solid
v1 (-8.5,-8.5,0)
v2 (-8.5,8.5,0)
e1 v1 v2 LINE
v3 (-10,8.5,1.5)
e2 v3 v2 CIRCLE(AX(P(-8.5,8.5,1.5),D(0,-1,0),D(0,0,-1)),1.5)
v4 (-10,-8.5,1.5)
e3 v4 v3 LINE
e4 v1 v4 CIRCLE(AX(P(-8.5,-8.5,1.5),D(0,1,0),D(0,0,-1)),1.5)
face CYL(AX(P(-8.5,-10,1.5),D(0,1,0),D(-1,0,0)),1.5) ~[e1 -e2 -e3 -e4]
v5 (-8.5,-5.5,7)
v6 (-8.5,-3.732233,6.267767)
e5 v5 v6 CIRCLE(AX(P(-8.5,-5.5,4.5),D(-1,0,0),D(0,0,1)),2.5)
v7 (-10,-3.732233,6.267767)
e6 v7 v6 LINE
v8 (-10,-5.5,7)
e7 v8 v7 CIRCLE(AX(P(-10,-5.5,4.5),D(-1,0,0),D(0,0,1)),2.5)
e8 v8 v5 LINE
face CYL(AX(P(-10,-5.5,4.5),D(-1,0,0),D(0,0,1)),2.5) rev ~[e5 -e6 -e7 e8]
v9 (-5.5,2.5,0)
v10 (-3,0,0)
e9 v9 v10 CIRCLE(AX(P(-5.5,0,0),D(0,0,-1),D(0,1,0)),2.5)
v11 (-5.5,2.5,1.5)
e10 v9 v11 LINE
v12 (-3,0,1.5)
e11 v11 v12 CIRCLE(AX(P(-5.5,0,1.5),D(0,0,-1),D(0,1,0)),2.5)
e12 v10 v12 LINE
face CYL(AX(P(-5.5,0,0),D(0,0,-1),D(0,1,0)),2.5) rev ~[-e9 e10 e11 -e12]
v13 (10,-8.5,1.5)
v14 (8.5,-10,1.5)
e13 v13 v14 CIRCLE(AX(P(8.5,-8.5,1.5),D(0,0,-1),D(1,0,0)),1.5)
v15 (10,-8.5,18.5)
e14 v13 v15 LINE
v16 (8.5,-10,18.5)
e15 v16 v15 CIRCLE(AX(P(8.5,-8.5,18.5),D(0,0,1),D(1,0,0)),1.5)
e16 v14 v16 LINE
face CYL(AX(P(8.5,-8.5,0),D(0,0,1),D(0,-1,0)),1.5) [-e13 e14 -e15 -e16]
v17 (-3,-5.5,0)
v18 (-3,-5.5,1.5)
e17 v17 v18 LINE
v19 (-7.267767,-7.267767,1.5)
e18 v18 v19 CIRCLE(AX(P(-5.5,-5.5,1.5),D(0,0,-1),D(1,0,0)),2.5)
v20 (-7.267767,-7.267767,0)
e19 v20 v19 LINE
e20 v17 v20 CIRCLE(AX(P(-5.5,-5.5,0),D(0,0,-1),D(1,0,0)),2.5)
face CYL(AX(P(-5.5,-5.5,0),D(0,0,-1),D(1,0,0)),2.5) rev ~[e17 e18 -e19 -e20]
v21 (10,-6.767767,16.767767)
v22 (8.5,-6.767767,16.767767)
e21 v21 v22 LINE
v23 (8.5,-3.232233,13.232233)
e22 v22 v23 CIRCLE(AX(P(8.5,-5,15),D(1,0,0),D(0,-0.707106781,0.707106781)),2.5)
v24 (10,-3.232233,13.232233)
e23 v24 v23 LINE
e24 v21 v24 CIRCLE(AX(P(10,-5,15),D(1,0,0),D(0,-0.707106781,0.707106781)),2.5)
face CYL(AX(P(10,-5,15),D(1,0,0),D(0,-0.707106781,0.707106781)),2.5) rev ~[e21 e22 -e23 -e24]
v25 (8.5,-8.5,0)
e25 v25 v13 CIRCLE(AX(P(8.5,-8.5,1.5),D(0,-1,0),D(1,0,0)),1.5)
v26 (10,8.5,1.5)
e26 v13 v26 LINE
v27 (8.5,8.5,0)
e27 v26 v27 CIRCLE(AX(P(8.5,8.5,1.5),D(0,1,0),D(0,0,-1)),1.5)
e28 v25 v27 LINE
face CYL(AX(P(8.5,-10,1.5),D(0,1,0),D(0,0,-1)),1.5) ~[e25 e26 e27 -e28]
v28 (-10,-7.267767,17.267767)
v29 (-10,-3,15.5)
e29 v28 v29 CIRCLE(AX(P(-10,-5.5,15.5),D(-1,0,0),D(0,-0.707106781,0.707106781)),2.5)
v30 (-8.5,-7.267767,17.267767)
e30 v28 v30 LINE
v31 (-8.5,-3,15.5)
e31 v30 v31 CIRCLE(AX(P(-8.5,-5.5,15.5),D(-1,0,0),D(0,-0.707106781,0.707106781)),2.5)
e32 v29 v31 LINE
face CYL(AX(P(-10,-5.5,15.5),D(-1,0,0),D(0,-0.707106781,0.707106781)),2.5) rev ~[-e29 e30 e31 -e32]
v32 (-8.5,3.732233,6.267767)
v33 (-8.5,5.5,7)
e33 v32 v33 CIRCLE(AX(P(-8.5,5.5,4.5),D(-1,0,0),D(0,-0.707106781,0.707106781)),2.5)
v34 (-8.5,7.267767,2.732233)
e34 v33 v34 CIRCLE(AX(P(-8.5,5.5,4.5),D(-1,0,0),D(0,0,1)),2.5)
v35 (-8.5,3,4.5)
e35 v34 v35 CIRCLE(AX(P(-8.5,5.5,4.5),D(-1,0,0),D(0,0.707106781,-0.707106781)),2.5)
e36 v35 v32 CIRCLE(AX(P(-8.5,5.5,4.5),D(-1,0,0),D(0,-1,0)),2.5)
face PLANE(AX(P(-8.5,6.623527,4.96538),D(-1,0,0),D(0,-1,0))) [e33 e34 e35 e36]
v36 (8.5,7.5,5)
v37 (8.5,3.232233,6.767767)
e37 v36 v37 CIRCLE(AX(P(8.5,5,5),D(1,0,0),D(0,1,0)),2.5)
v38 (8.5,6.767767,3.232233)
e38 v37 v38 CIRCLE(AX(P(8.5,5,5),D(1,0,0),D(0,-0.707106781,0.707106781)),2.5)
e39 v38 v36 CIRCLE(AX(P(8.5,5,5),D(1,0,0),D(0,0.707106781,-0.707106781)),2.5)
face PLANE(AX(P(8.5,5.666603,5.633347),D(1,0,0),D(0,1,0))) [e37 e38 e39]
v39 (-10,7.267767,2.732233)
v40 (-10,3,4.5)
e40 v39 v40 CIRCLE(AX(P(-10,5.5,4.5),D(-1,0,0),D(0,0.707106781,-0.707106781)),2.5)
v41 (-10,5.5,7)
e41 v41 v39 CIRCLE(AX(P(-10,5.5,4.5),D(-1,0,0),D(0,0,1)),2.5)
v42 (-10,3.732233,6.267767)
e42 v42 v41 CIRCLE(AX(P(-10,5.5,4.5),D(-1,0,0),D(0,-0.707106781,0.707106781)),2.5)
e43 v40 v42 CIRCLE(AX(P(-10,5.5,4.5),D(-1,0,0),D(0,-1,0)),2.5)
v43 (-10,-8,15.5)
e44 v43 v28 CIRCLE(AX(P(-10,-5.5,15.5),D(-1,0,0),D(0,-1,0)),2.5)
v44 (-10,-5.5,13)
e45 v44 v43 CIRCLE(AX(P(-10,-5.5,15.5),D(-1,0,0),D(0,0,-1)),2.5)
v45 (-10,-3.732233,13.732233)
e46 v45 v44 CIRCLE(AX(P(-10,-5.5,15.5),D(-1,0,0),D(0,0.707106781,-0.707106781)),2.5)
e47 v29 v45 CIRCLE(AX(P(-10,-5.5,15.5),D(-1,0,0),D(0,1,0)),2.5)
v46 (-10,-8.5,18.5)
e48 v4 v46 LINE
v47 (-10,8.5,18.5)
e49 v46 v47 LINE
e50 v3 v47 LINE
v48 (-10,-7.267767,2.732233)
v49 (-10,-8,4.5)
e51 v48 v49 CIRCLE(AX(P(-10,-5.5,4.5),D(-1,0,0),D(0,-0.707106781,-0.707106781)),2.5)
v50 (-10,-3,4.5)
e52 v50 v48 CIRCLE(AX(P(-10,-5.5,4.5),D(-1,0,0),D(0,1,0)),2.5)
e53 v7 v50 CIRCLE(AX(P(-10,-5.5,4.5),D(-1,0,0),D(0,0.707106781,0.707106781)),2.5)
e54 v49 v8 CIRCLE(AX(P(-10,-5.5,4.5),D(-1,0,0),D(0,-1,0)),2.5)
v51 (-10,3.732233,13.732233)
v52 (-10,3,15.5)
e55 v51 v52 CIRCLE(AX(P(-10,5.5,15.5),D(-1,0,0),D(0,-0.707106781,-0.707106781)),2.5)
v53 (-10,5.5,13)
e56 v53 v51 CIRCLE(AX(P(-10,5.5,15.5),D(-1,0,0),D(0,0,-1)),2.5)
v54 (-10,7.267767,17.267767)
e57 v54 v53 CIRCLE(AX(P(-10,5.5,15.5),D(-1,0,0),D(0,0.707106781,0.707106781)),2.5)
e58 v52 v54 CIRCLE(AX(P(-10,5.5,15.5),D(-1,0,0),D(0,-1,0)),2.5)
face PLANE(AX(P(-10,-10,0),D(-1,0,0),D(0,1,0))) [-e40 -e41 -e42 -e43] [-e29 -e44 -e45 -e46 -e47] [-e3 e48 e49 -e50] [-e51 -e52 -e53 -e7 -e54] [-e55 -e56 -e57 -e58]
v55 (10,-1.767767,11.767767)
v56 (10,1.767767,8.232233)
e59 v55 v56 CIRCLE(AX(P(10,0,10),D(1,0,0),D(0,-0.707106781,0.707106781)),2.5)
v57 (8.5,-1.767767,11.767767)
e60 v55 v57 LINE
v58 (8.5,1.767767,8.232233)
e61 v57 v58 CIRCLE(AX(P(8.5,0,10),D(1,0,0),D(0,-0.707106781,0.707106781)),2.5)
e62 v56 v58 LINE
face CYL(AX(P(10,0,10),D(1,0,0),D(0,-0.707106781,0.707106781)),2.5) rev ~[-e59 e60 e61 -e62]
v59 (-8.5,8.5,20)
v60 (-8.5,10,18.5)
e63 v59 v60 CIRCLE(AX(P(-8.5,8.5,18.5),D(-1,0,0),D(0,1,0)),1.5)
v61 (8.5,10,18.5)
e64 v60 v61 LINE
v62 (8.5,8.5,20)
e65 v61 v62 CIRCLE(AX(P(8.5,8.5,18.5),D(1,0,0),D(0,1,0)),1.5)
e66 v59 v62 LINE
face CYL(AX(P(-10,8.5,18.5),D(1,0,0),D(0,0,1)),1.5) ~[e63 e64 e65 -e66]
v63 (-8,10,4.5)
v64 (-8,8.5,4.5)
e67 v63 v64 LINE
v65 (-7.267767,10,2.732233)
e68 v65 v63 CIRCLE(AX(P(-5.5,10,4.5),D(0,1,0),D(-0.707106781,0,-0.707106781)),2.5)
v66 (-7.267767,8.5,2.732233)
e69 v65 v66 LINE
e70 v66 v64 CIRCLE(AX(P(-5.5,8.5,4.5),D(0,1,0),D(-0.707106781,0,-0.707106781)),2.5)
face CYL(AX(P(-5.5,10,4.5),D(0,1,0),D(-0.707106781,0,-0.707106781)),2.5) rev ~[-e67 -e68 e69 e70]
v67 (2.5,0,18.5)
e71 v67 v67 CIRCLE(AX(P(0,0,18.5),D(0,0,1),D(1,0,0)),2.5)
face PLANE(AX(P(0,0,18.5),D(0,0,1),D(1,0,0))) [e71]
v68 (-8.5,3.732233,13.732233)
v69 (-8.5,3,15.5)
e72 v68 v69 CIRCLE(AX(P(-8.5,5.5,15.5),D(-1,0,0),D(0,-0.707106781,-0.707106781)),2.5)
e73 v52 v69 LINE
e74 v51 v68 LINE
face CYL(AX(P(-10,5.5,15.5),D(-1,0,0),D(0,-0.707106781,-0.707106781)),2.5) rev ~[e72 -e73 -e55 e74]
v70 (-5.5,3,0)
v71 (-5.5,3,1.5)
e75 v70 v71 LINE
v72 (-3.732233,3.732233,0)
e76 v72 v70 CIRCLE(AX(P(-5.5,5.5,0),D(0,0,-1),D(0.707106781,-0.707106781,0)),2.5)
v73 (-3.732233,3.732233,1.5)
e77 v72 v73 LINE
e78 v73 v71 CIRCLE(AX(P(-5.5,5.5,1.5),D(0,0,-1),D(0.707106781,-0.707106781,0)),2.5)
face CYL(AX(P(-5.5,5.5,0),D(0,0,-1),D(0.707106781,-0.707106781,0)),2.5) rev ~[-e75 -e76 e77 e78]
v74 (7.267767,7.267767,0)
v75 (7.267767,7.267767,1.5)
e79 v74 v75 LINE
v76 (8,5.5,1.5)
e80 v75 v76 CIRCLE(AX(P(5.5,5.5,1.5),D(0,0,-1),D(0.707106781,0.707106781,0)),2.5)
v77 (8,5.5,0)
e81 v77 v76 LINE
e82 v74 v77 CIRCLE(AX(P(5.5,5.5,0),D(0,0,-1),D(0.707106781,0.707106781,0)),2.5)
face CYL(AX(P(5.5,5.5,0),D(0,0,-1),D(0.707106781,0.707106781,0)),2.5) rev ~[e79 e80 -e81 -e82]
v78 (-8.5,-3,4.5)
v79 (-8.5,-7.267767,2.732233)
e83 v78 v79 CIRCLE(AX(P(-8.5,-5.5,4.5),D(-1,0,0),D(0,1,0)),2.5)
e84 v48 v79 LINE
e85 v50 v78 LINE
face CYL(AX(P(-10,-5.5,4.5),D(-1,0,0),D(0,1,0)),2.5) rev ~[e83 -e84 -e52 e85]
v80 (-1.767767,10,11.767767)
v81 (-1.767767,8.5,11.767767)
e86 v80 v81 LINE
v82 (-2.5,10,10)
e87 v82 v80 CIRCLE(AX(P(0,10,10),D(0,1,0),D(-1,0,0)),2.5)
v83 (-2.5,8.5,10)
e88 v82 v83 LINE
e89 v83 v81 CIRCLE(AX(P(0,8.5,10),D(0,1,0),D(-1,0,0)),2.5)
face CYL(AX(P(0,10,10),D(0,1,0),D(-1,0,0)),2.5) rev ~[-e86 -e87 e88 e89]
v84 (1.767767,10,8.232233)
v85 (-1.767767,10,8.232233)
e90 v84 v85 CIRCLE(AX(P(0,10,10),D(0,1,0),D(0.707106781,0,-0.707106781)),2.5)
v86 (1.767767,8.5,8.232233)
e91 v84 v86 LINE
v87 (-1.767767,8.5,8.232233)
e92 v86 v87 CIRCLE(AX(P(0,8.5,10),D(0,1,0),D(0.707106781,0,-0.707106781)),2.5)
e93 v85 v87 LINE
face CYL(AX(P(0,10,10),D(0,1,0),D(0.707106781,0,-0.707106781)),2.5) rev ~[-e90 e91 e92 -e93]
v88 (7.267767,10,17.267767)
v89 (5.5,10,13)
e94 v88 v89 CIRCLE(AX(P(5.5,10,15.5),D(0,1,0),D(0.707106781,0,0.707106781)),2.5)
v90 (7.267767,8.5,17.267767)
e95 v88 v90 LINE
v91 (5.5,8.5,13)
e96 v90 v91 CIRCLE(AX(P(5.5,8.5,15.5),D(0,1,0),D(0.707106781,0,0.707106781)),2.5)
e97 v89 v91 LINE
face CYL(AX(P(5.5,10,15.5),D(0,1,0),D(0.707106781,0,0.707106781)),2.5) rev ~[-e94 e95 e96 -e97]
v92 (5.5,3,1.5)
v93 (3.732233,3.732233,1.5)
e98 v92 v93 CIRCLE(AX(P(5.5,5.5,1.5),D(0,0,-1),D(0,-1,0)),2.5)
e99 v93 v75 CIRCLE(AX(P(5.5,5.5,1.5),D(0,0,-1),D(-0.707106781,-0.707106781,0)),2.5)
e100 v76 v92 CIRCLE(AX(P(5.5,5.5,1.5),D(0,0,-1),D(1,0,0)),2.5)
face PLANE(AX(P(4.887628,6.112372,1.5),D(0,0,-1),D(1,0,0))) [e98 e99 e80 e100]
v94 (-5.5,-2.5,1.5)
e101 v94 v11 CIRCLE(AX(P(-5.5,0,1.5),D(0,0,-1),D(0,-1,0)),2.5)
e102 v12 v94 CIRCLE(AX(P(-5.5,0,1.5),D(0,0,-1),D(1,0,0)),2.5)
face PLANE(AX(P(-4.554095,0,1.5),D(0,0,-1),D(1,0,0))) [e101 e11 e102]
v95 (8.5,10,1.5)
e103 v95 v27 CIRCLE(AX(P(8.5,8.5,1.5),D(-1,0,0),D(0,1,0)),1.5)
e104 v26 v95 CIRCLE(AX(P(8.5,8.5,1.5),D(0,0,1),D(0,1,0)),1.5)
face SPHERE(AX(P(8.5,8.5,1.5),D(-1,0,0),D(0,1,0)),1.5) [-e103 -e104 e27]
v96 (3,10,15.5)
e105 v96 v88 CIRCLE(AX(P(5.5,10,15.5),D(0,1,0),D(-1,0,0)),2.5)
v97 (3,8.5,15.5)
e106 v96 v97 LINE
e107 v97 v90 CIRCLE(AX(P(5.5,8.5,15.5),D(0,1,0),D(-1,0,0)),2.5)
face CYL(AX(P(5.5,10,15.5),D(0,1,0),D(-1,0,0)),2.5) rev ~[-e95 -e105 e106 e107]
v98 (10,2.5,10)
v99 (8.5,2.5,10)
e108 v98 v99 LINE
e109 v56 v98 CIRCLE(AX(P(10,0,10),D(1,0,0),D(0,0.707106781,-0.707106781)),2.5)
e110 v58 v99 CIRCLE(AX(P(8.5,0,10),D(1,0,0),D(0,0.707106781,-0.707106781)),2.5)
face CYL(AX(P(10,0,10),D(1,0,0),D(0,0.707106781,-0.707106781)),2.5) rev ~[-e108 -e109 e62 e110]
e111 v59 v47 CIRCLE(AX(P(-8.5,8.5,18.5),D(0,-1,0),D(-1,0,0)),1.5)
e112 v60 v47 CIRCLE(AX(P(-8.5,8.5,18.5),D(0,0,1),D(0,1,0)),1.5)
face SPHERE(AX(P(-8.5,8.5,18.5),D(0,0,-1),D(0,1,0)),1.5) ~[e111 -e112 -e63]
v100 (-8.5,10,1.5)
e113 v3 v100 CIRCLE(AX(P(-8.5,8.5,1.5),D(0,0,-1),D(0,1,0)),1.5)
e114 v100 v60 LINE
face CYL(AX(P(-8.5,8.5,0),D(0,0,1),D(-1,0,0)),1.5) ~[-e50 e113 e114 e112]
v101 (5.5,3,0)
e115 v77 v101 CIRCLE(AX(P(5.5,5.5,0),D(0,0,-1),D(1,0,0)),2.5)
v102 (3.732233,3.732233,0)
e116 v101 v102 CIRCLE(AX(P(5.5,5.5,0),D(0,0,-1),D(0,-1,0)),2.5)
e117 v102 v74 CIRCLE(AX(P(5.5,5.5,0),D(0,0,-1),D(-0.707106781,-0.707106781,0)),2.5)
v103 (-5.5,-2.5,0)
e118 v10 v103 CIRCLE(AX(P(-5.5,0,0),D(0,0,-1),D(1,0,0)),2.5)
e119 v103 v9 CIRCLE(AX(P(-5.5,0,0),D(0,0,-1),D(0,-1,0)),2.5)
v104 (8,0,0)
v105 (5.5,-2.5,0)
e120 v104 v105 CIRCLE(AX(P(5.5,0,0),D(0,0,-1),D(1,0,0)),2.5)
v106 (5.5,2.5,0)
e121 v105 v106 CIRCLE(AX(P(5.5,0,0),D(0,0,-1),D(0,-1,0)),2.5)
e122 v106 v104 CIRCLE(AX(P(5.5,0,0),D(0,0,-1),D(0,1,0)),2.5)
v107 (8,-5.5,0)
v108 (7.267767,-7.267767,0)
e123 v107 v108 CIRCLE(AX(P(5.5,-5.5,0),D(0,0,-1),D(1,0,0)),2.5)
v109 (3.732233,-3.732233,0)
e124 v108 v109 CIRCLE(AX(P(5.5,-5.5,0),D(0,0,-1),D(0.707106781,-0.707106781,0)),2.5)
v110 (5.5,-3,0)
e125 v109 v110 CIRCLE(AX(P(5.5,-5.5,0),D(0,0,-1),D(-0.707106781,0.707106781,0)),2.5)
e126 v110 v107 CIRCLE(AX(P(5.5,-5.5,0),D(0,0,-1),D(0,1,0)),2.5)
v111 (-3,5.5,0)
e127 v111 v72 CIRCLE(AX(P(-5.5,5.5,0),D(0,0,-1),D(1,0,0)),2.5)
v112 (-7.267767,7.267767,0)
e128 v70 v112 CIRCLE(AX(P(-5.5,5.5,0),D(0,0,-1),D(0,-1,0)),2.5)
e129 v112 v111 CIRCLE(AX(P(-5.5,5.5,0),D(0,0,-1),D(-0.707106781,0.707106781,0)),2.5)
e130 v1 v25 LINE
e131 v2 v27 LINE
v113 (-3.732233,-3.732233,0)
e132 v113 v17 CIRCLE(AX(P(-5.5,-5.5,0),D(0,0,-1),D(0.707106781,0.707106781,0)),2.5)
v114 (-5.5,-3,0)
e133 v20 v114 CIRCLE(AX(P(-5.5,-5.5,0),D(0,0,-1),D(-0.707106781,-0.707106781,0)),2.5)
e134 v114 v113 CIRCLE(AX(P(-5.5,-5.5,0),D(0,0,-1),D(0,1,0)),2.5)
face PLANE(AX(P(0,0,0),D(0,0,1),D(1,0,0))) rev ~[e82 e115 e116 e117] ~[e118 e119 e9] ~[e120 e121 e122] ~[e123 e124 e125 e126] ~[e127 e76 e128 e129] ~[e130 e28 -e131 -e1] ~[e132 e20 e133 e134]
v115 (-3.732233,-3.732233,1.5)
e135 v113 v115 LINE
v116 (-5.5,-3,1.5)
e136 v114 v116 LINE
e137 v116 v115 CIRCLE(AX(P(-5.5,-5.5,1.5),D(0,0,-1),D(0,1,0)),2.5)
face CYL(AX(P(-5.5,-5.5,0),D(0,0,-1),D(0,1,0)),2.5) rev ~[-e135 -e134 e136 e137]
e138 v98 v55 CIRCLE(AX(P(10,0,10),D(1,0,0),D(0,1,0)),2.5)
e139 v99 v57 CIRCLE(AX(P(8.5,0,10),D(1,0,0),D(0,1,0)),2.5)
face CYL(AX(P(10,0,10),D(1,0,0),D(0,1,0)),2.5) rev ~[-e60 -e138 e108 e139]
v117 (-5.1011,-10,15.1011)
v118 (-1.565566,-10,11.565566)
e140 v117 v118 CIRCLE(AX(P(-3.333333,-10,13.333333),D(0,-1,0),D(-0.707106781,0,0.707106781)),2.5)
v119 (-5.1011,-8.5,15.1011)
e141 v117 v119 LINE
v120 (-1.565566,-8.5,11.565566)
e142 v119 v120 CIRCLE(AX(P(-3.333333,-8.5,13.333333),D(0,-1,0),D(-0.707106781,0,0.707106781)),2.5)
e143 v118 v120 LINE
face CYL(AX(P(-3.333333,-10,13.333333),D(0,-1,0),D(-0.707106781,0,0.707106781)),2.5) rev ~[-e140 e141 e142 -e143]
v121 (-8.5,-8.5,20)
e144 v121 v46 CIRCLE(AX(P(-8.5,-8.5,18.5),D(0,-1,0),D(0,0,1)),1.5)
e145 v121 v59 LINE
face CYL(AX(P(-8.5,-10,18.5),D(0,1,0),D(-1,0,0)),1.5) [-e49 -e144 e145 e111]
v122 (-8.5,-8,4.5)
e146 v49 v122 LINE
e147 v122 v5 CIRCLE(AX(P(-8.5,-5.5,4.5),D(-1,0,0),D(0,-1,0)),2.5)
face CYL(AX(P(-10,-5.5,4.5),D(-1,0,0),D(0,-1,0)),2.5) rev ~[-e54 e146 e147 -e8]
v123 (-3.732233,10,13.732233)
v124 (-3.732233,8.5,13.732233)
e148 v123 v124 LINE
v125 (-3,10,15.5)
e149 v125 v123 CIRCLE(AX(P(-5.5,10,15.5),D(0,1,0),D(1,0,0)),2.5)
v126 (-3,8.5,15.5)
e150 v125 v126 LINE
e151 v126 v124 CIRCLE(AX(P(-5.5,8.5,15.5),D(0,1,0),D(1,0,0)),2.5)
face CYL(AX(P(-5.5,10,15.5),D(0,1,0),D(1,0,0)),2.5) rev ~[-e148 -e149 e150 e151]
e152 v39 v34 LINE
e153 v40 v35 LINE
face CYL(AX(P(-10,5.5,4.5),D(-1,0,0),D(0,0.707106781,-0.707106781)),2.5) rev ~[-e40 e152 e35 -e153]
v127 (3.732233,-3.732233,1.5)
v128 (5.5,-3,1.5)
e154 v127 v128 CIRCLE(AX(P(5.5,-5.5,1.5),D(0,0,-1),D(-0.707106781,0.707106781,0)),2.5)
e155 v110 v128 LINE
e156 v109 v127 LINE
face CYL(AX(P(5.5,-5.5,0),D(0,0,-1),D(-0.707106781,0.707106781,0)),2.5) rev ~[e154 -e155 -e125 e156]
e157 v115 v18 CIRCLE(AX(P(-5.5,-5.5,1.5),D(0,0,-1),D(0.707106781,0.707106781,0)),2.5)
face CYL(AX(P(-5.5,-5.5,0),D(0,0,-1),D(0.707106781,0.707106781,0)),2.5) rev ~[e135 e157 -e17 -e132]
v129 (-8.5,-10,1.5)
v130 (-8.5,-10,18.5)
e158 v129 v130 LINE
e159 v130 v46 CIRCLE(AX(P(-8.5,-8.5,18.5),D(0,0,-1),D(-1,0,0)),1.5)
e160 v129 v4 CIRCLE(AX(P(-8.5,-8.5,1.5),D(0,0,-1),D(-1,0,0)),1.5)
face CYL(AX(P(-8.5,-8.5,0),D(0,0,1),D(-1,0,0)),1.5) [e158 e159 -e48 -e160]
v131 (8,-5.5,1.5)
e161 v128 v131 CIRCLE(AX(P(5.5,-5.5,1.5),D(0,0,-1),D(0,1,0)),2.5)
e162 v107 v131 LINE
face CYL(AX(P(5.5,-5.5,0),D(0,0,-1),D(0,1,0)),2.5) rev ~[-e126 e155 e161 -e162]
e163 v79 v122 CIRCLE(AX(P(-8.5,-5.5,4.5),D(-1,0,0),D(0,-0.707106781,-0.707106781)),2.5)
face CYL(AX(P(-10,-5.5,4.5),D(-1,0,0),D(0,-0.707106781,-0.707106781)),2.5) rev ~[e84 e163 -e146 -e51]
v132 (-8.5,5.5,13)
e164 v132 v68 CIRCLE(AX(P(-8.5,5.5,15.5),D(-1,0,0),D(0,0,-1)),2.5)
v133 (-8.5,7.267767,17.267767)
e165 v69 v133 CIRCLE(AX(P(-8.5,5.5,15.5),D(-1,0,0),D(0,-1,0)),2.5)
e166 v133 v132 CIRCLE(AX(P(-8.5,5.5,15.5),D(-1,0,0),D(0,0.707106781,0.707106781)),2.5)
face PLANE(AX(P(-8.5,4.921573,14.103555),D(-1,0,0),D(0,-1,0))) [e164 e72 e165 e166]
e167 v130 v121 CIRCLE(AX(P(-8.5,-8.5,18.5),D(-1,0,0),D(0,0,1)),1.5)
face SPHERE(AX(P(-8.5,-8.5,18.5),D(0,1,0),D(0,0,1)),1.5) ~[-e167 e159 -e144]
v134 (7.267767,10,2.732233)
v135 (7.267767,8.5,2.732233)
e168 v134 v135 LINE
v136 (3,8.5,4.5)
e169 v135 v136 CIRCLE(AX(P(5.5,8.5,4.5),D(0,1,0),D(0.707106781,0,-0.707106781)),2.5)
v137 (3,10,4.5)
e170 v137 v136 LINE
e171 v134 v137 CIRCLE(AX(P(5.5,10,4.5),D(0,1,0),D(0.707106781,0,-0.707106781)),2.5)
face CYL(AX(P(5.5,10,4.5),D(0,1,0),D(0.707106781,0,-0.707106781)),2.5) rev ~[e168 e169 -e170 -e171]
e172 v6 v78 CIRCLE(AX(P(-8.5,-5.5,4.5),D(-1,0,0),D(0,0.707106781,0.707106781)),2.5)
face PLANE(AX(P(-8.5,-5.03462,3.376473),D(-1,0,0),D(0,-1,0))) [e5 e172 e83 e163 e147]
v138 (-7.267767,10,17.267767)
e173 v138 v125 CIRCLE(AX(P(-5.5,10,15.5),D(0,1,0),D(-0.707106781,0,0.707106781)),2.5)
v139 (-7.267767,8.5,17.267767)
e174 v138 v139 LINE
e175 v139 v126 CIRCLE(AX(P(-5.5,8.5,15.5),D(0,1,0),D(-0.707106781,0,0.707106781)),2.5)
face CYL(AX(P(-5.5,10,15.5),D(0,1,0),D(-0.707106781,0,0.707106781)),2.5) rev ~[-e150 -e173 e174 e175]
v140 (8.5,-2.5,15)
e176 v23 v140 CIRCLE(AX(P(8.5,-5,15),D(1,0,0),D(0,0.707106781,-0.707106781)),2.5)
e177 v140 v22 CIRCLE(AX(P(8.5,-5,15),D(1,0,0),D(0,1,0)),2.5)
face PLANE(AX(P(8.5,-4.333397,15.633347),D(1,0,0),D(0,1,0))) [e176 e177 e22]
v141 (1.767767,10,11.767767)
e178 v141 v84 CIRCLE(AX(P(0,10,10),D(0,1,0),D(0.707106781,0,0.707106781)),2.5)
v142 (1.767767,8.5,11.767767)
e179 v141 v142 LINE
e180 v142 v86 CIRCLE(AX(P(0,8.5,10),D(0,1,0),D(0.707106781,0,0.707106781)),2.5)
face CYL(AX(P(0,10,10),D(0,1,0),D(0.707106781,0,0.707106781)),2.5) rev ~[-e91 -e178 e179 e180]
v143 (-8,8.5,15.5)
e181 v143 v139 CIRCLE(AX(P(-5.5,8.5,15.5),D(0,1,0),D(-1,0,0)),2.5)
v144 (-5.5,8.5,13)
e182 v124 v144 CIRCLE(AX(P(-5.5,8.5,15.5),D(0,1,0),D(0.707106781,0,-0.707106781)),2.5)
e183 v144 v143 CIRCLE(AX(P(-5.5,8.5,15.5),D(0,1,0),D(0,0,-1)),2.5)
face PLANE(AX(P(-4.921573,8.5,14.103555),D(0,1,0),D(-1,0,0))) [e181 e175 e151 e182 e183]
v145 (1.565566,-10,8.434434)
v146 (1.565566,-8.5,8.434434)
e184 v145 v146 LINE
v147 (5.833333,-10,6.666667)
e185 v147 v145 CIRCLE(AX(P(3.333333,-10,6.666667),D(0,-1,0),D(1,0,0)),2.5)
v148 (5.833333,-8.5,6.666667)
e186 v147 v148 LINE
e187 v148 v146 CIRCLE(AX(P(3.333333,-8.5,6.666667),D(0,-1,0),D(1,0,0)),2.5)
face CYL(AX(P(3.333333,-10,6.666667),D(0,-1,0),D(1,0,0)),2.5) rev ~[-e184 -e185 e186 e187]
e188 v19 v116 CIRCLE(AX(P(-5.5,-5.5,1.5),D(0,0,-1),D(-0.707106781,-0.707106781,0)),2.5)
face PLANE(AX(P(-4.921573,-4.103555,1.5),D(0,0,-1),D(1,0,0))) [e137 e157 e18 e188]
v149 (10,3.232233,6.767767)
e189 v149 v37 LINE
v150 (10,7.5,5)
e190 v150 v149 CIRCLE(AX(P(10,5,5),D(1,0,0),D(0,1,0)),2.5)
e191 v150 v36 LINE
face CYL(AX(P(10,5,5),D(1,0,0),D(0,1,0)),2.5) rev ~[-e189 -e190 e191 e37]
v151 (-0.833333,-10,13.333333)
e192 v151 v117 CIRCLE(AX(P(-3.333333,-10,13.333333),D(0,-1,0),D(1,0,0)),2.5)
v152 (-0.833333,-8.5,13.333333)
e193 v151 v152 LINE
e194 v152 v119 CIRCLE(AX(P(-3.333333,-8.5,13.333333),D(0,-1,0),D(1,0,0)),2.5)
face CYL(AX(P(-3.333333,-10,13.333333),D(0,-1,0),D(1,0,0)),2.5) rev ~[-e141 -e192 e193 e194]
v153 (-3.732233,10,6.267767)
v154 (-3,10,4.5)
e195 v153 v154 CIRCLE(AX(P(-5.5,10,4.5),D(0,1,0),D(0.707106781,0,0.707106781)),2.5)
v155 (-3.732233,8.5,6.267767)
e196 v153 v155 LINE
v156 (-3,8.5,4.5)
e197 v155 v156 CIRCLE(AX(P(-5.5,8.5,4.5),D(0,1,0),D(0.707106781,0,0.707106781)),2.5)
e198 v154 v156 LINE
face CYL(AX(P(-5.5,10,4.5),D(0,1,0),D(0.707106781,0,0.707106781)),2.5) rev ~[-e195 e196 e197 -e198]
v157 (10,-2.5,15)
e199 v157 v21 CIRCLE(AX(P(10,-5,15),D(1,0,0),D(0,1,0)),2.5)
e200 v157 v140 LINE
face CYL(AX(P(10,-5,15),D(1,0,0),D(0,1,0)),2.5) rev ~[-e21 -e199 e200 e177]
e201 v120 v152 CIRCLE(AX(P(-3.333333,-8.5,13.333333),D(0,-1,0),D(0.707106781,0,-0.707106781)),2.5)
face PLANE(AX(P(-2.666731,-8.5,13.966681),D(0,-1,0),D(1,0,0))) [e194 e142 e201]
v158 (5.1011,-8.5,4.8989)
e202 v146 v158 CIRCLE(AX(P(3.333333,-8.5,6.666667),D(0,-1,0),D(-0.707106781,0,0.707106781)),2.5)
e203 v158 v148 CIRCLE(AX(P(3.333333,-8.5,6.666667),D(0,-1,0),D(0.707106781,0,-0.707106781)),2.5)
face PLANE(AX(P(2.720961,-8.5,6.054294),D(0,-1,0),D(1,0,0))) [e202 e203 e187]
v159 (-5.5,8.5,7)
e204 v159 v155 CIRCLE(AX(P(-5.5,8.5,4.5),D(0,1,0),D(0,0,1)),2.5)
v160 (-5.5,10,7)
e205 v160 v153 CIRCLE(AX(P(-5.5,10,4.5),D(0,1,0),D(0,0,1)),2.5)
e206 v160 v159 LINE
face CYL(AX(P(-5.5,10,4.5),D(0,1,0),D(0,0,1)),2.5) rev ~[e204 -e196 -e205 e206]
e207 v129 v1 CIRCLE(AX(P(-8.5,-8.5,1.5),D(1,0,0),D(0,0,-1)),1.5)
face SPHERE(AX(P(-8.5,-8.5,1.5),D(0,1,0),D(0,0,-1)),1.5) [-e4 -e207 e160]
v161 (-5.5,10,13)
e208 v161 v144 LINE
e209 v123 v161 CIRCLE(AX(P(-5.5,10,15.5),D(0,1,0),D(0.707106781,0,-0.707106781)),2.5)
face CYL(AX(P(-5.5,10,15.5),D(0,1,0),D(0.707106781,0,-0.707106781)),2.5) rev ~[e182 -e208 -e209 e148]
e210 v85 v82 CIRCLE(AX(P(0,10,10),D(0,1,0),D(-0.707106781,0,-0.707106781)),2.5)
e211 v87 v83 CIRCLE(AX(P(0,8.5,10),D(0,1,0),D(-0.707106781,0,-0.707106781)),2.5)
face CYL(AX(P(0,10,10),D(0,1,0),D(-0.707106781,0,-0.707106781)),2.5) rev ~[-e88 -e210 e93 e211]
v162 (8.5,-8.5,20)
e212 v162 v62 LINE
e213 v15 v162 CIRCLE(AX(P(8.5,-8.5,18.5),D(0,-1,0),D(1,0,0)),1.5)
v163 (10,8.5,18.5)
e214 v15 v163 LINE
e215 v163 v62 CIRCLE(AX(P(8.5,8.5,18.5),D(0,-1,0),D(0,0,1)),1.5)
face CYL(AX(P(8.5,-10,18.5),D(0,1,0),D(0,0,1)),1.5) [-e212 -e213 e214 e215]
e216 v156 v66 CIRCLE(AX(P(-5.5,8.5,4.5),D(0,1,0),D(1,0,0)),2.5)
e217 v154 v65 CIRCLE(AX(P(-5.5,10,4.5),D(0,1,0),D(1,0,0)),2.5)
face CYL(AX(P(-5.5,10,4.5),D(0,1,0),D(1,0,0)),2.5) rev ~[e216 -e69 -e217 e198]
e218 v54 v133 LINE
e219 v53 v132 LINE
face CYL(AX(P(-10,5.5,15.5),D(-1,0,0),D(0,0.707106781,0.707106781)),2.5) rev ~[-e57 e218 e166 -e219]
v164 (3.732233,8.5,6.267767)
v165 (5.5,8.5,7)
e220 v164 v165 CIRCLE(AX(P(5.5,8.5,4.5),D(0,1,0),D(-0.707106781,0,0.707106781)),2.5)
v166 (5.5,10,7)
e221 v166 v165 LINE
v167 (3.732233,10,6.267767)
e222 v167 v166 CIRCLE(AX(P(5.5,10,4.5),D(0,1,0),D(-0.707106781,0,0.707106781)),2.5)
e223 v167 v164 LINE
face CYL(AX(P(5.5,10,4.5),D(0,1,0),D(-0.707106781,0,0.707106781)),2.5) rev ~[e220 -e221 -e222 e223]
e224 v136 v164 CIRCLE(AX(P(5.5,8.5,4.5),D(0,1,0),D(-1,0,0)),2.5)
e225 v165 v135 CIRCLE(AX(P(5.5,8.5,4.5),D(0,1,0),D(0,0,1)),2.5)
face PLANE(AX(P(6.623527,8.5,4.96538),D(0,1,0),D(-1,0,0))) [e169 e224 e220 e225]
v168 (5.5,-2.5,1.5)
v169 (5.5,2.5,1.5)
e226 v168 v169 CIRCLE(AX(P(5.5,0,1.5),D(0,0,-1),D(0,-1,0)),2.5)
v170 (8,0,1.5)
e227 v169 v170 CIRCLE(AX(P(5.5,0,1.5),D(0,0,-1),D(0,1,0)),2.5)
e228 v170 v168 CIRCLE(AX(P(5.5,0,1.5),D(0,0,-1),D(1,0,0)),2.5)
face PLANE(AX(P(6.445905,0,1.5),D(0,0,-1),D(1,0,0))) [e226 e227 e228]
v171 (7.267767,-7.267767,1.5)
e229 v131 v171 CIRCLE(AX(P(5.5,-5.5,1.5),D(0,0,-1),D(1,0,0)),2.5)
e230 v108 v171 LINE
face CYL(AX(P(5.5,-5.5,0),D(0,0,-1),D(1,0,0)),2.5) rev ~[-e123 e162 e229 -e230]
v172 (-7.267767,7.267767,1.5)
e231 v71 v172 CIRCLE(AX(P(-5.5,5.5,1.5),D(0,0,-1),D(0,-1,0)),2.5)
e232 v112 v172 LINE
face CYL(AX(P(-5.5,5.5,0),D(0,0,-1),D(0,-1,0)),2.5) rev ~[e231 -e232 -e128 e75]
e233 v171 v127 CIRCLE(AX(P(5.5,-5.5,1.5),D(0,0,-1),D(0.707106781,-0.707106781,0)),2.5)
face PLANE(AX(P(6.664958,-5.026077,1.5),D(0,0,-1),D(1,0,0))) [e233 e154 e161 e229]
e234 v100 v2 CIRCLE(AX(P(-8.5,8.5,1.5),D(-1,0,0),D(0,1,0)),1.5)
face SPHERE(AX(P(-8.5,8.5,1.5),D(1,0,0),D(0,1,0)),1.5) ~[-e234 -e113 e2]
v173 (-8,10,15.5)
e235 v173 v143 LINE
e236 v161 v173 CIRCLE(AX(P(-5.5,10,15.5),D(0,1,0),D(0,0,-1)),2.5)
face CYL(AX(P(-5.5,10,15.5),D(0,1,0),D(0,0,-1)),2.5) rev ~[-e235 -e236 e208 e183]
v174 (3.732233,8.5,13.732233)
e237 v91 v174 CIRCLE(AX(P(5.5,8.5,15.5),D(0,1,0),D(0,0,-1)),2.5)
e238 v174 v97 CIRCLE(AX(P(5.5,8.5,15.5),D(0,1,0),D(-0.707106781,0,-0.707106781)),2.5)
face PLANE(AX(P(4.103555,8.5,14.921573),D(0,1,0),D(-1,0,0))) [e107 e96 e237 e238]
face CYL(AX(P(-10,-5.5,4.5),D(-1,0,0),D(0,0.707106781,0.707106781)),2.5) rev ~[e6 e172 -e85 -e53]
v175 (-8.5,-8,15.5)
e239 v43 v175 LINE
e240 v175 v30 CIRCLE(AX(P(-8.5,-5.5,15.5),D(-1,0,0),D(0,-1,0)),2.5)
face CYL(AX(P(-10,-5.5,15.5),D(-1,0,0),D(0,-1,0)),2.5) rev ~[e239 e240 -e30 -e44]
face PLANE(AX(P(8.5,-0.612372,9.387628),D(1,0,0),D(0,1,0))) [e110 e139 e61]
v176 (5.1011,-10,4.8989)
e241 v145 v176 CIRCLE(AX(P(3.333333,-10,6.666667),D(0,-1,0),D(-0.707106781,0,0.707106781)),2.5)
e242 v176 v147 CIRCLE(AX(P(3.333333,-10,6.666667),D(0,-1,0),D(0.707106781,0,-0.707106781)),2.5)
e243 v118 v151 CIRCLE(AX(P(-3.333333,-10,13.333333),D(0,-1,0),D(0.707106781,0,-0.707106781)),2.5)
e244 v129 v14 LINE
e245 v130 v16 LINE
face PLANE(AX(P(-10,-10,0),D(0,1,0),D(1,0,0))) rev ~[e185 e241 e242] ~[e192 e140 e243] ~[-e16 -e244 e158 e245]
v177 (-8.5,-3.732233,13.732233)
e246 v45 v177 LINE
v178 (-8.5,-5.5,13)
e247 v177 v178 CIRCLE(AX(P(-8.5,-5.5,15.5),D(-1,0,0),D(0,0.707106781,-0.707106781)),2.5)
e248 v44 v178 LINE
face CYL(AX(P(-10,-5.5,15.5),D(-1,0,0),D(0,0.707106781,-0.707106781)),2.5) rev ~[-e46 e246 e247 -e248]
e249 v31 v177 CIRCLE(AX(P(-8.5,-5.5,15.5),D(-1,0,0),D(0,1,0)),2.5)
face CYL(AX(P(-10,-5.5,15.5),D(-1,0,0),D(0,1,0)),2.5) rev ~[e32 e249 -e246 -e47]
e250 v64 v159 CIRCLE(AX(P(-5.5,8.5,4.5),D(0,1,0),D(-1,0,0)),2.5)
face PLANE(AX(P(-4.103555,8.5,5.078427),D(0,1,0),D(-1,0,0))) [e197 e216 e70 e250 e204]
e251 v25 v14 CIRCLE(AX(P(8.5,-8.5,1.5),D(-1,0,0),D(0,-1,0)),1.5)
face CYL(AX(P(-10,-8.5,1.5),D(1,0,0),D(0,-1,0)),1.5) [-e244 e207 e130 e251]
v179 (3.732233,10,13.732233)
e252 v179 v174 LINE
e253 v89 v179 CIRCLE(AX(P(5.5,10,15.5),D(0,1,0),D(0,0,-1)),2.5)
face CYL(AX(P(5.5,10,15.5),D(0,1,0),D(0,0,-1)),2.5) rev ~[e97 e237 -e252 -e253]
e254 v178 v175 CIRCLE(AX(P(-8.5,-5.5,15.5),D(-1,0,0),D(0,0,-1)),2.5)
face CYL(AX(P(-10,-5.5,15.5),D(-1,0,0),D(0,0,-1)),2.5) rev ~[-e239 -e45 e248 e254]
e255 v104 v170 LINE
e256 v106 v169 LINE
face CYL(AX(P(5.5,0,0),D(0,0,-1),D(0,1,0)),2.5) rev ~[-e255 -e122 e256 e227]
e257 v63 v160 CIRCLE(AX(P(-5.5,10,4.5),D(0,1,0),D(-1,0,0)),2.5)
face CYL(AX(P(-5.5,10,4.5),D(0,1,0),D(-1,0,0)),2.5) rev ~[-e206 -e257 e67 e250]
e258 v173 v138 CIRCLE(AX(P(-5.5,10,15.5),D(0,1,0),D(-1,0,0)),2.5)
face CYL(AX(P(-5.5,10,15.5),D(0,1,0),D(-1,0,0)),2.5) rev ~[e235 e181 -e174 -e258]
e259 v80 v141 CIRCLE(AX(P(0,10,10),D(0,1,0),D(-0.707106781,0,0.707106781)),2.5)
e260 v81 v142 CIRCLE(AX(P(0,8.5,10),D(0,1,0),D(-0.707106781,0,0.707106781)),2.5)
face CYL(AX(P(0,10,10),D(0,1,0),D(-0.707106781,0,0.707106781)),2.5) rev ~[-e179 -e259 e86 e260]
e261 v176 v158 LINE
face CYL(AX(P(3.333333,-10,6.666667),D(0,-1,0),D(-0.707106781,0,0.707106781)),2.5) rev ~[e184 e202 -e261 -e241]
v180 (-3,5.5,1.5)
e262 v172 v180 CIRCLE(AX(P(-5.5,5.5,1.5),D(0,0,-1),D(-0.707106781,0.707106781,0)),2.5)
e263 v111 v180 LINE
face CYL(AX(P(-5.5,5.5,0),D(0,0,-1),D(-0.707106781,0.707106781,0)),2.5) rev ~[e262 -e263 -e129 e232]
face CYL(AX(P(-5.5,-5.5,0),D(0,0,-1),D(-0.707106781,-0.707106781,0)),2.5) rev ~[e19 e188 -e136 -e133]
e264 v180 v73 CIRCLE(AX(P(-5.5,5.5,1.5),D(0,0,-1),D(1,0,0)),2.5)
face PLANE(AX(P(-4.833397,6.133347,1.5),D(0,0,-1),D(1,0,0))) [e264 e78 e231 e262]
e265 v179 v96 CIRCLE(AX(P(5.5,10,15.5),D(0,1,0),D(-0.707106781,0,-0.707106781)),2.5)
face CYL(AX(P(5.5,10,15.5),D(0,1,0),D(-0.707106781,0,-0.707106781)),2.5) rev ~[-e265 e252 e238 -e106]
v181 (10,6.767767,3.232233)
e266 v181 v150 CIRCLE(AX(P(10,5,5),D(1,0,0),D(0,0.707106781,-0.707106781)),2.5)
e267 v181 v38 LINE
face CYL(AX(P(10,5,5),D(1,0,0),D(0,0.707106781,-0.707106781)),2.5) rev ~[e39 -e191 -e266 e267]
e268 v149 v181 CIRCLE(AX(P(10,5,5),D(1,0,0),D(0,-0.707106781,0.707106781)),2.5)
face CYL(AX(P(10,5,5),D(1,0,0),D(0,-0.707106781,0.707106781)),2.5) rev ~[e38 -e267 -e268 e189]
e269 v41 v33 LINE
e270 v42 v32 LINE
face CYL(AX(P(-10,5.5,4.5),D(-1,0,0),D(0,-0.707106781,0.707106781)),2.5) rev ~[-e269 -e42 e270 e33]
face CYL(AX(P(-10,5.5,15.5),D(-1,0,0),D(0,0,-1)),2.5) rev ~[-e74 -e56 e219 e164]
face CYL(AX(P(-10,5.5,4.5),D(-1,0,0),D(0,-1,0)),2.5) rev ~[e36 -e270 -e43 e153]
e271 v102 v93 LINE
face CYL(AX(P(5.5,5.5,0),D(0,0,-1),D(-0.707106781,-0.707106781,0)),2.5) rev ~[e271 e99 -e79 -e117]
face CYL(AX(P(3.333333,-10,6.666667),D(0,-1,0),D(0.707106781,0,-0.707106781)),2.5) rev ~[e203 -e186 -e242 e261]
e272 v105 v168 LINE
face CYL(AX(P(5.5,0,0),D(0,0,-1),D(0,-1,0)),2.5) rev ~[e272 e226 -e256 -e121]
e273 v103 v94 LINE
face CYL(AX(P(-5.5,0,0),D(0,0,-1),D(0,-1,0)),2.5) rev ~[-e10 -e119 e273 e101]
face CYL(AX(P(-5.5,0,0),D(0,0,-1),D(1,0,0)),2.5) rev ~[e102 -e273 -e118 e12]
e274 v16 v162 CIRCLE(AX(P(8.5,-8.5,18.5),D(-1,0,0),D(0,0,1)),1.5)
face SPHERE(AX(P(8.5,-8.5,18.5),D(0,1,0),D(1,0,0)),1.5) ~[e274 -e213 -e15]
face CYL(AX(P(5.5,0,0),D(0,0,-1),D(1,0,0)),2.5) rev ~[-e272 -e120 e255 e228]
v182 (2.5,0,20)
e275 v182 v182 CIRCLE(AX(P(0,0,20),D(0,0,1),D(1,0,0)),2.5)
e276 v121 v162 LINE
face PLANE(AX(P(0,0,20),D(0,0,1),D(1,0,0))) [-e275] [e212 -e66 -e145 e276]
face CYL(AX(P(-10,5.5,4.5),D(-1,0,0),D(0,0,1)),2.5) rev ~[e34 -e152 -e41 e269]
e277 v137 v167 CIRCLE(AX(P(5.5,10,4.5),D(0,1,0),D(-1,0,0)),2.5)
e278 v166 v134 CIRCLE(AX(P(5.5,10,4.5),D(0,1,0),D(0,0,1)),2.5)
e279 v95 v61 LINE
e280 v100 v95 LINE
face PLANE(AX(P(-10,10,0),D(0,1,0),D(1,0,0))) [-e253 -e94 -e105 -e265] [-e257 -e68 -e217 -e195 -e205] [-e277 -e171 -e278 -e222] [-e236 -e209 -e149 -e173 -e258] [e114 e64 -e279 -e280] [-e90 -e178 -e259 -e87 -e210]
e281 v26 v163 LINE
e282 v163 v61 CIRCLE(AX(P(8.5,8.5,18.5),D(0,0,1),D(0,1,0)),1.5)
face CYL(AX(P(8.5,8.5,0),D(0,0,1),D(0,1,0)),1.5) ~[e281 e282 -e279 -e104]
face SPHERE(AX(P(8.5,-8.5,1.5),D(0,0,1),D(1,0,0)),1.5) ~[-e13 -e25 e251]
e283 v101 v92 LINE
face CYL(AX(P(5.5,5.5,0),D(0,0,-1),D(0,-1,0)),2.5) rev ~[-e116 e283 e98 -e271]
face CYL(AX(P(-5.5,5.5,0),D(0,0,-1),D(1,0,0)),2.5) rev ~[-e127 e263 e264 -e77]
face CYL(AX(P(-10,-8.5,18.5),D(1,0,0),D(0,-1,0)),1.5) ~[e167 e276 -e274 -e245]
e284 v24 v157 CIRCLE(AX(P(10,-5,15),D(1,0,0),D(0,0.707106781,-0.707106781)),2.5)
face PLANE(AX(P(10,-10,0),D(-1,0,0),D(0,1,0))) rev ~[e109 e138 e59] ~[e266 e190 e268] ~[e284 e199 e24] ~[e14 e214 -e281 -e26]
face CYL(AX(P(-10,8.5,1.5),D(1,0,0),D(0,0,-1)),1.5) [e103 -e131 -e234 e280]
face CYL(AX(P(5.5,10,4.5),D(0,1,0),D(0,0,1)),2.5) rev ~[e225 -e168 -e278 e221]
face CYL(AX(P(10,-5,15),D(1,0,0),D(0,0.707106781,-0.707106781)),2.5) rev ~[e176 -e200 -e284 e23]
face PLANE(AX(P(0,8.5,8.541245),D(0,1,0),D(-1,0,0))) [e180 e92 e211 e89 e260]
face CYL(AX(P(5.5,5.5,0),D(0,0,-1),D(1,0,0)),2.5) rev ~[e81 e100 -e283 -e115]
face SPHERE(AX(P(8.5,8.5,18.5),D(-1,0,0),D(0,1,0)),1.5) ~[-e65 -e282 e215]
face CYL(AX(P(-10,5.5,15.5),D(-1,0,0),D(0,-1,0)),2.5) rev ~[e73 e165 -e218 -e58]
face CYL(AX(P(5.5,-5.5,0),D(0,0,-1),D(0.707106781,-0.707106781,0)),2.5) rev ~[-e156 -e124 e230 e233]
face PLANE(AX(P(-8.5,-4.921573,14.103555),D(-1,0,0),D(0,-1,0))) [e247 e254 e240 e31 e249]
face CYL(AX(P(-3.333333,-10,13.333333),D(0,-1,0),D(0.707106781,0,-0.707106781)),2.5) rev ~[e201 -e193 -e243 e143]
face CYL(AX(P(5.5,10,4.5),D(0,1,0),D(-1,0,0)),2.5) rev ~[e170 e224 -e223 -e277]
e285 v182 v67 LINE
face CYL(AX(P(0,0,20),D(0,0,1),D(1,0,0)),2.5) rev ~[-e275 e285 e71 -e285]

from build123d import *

# Parameters (mm, degrees)
F1_W      = 20
F1_H      = 20
F2_DEPTH  = 20
F3_R      = 2.5
F9_DEPTH  = 1.5
F10_DEPTH = 1.5
F11_DEPTH = 1.5
F12_DEPTH = 1.5
F13_DEPTH = 1.5
F14_DEPTH = 1.5
F15_R     = 1.5


with BuildPart() as f2:
    # F1 (on Top) → F2 (new body)
    with BuildSketch(Plane.XY):
        Rectangle(F1_W, F1_H)
    extrude(amount=F2_DEPTH)

    # F3 (on face) → F9 (cut)
    with BuildSketch(Plane.XY.offset(20)):
        Circle(F3_R)
    extrude(amount=-F9_DEPTH, mode=Mode.SUBTRACT)

    # F6 (on face) → F10 (cut)
    with BuildSketch(Plane.XZ.offset(10)):
        with BuildLine():
            ThreePointArc((-0.8333333333, 13.3333333333), (-2.3766247524, 15.6430321646), (-5.1011002863, 15.1011002863))
            Line((-5.1011002863, 15.1011002863), (-3.3333333333, 13.3333333333))
            Line((-3.3333333333, 13.3333333333), (-1.5655663804, 11.5655663804))
            ThreePointArc((-1.5655663804, 11.5655663804), (-1.0236345021, 12.3766247524), (-0.8333333333, 13.3333333333))
        make_face()
        with BuildLine():
            Line((-3.3333333333, 13.3333333333), (-5.1011002863, 15.1011002863))
            ThreePointArc((-5.1011002863, 15.1011002863), (-5.1011002863, 11.5655663804), (-1.5655663804, 11.5655663804))
            Line((-1.5655663804, 11.5655663804), (-3.3333333333, 13.3333333333))
        make_face()
        with BuildLine():
            Line((3.3333333333, 6.6666666667), (1.5655663804, 8.4344336196))
            ThreePointArc((1.5655663804, 8.4344336196), (1.5655663804, 4.8988997137), (5.1011002863, 4.8988997137))
            Line((5.1011002863, 4.8988997137), (3.3333333333, 6.6666666667))
        make_face()
        with BuildLine():
            ThreePointArc((5.8333333333, 6.6666666667), (4.2900419142, 8.9763654979), (1.5655663804, 8.4344336196))
            Line((1.5655663804, 8.4344336196), (3.3333333333, 6.6666666667))
            Line((3.3333333333, 6.6666666667), (5.1011002863, 4.8988997137))
            ThreePointArc((5.1011002863, 4.8988997137), (5.6430321646, 5.7099580858), (5.8333333333, 6.6666666667))
        make_face()
    extrude(amount=-F10_DEPTH, mode=Mode.SUBTRACT)

    # F8 (on face) → F11 (cut)
    with BuildSketch(Plane.YZ.offset(10)):
        with BuildLine():
            ThreePointArc((-2.5, 15), (-4.0432914191, 17.3096988313), (-6.767766953, 16.767766953))
            Line((-6.767766953, 16.767766953), (-5, 15))
            Line((-5, 15), (-3.232233047, 13.232233047))
            ThreePointArc((-3.232233047, 13.232233047), (-2.6903011687, 14.0432914191), (-2.5, 15))
        make_face()
        with BuildLine():
            Line((-5, 15), (-6.767766953, 16.767766953))
            ThreePointArc((-6.767766953, 16.767766953), (-6.767766953, 13.232233047), (-3.232233047, 13.232233047))
            Line((-3.232233047, 13.232233047), (-5, 15))
        make_face()
        with BuildLine():
            Line((0, 10), (-1.767766953, 11.767766953))
            ThreePointArc((-1.767766953, 11.767766953), (-1.767766953, 8.232233047), (1.767766953, 8.232233047))
            Line((1.767766953, 8.232233047), (0, 10))
        make_face()
        with BuildLine():
            ThreePointArc((2.5, 10), (0.9567085809, 12.3096988313), (-1.767766953, 11.767766953))
            Line((-1.767766953, 11.767766953), (0, 10))
            Line((0, 10), (1.767766953, 8.232233047))
            ThreePointArc((1.767766953, 8.232233047), (2.3096988313, 9.0432914191), (2.5, 10))
        make_face()
        with BuildLine():
            Line((5, 5), (6.767766953, 3.232233047))
            ThreePointArc((6.767766953, 3.232233047), (7.3096988313, 4.0432914191), (7.5, 5))
            ThreePointArc((7.5, 5), (5.9567085809, 7.3096988313), (3.232233047, 6.767766953))
            Line((3.232233047, 6.767766953), (5, 5))
        make_face()
        with BuildLine():
            ThreePointArc((3.232233047, 6.767766953), (3.232233047, 3.232233047), (6.767766953, 3.232233047))
            Line((6.767766953, 3.232233047), (5, 5))
            Line((5, 5), (3.232233047, 6.767766953))
        make_face()
    extrude(amount=-F11_DEPTH, mode=Mode.SUBTRACT)

    # F7 (on face) → F12 (cut)
    with BuildSketch(Plane(origin=(-10, 0, 0), x_dir=(0, -1, 0), z_dir=(-1, 0, 0))):
        with BuildLine():
            ThreePointArc((3, 4.5), (4.5432914191, 2.1903011687), (7.267766953, 2.732233047))
            Line((7.267766953, 2.732233047), (5.5, 4.5))
            Line((5.5, 4.5), (3, 4.5))
        make_face()
        with BuildLine():
            ThreePointArc((3.732233047, 6.267766953), (3.1903011687, 5.4567085809), (3, 4.5))
            Line((3, 4.5), (5.5, 4.5))
            Line((5.5, 4.5), (3.732233047, 6.267766953))
        make_face()
        with BuildLine():
            Line((3.732233047, 6.267766953), (5.5, 4.5))
            Line((5.5, 4.5), (5.5, 7))
            ThreePointArc((5.5, 7), (4.5432914191, 6.8096988313), (3.732233047, 6.267766953))
        make_face()
        with BuildLine():
            Line((5.5, 4.5), (7.267766953, 2.732233047))
            ThreePointArc((7.267766953, 2.732233047), (7.8096988313, 3.5432914191), (8, 4.5))
            ThreePointArc((8, 4.5), (7.267766953, 6.267766953), (5.5, 7))
            Line((5.5, 7), (5.5, 4.5))
        make_face()
        with BuildLine():
            ThreePointArc((-5.5, 7), (-7.8096988313, 5.4567085809), (-7.267766953, 2.732233047))
            Line((-7.267766953, 2.732233047), (-5.5, 4.5))
            Line((-5.5, 4.5), (-5.5, 7))
        make_face()
        with BuildLine():
            Line((-5.5, 4.5), (-7.267766953, 2.732233047))
            ThreePointArc((-7.267766953, 2.732233047), (-4.5432914191, 2.1903011687), (-3, 4.5))
            Line((-3, 4.5), (-5.5, 4.5))
        make_face()
        with BuildLine():
            Line((-3.732233047, 6.267766953), (-5.5, 4.5))
            Line((-5.5, 4.5), (-3, 4.5))
            ThreePointArc((-3, 4.5), (-3.1903011687, 5.4567085809), (-3.732233047, 6.267766953))
        make_face()
        with BuildLine():
            ThreePointArc((-3.732233047, 6.267766953), (-4.5432914191, 6.8096988313), (-5.5, 7))
            Line((-5.5, 7), (-5.5, 4.5))
            Line((-5.5, 4.5), (-3.732233047, 6.267766953))
        make_face()
        with BuildLine():
            Line((-3.732233047, 13.732233047), (-5.5, 15.5))
            Line((-5.5, 15.5), (-5.5, 13))
            ThreePointArc((-5.5, 13), (-4.5432914191, 13.1903011687), (-3.732233047, 13.732233047))
        make_face()
        with BuildLine():
            Line((-5.5, 15.5), (-7.267766953, 17.267766953))
            ThreePointArc((-7.267766953, 17.267766953), (-7.8096988313, 14.5432914191), (-5.5, 13))
            Line((-5.5, 13), (-5.5, 15.5))
        make_face()
        with BuildLine():
            ThreePointArc((-3, 15.5), (-4.5432914191, 17.8096988313), (-7.267766953, 17.267766953))
            Line((-7.267766953, 17.267766953), (-5.5, 15.5))
            Line((-5.5, 15.5), (-3, 15.5))
        make_face()
        with BuildLine():
            Line((-3, 15.5), (-5.5, 15.5))
            Line((-5.5, 15.5), (-3.732233047, 13.732233047))
            ThreePointArc((-3.732233047, 13.732233047), (-3.1903011687, 14.5432914191), (-3, 15.5))
        make_face()
        with BuildLine():
            Line((5.5, 13), (5.5, 15.5))
            Line((5.5, 15.5), (3.732233047, 13.732233047))
            ThreePointArc((3.732233047, 13.732233047), (4.5432914191, 13.1903011687), (5.5, 13))
        make_face()
        with BuildLine():
            ThreePointArc((8, 15.5), (7.8096988313, 16.4567085809), (7.267766953, 17.267766953))
            Line((7.267766953, 17.267766953), (5.5, 15.5))
            Line((5.5, 15.5), (5.5, 13))
            ThreePointArc((5.5, 13), (7.267766953, 13.732233047), (8, 15.5))
        make_face()
        with BuildLine():
            Line((5.5, 15.5), (3, 15.5))
            ThreePointArc((3, 15.5), (3.1903011687, 14.5432914191), (3.732233047, 13.732233047))
            Line((3.732233047, 13.732233047), (5.5, 15.5))
        make_face()
        with BuildLine():
            Line((5.5, 15.5), (7.267766953, 17.267766953))
            ThreePointArc((7.267766953, 17.267766953), (4.5432914191, 17.8096988313), (3, 15.5))
            Line((3, 15.5), (5.5, 15.5))
        make_face()
    extrude(amount=-F12_DEPTH, mode=Mode.SUBTRACT)

    # F5 (on face) → F13 (cut)
    with BuildSketch(Plane(origin=(0, 10, 0), x_dir=(-1, 0, 0), z_dir=(0, 1, 0))):
        with BuildLine():
            ThreePointArc((-5.5, 7), (-7.8096988313, 5.4567085809), (-7.267766953, 2.732233047))
            Line((-7.267766953, 2.732233047), (-5.5, 4.5))
            Line((-5.5, 4.5), (-5.5, 7))
        make_face()
        with BuildLine():
            Line((-5.5, 4.5), (-7.267766953, 2.732233047))
            ThreePointArc((-7.267766953, 2.732233047), (-4.5432914191, 2.1903011687), (-3, 4.5))
            Line((-3, 4.5), (-5.5, 4.5))
        make_face()
        with BuildLine():
            Line((-5.5, 4.5), (-3, 4.5))
            ThreePointArc((-3, 4.5), (-3.1903011687, 5.4567085809), (-3.732233047, 6.267766953))
            Line((-3.732233047, 6.267766953), (-5.5, 4.5))
        make_face()
        with BuildLine():
            Line((-5.5, 7), (-5.5, 4.5))
            Line((-5.5, 4.5), (-3.732233047, 6.267766953))
            ThreePointArc((-3.732233047, 6.267766953), (-4.5432914191, 6.8096988313), (-5.5, 7))
        make_face()
        with BuildLine():
            Line((1.767766953, 8.232233047), (0, 10))
            Line((0, 10), (-1.767766953, 8.232233047))
            ThreePointArc((-1.767766953, 8.232233047), (0, 7.5), (1.767766953, 8.232233047))
        make_face()
        with BuildLine():
            ThreePointArc((2.5, 10), (2.3096988313, 10.9567085809), (1.767766953, 11.767766953))
            Line((1.767766953, 11.767766953), (0, 10))
            Line((0, 10), (1.767766953, 8.232233047))
            ThreePointArc((1.767766953, 8.232233047), (2.3096988313, 9.0432914191), (2.5, 10))
        make_face()
        with BuildLine():
            Line((0, 10), (1.767766953, 11.767766953))
            ThreePointArc((1.767766953, 11.767766953), (0, 12.5), (-1.767766953, 11.767766953))
            Line((-1.767766953, 11.767766953), (0, 10))
        make_face()
        with BuildLine():
            Line((-1.767766953, 8.232233047), (0, 10))
            Line((0, 10), (-1.767766953, 11.767766953))
            ThreePointArc((-1.767766953, 11.767766953), (-2.5, 10), (-1.767766953, 8.232233047))
        make_face()
        with BuildLine():
            Line((3, 4.5), (5.5, 4.5))
            Line((5.5, 4.5), (3.732233047, 6.267766953))
            ThreePointArc((3.732233047, 6.267766953), (3.1903011687, 5.4567085809), (3, 4.5))
        make_face()
        with BuildLine():
            ThreePointArc((3, 4.5), (4.5432914191, 2.1903011687), (7.267766953, 2.732233047))
            Line((7.267766953, 2.732233047), (5.5, 4.5))
            Line((5.5, 4.5), (3, 4.5))
        make_face()
        with BuildLine():
            Line((5.5, 4.5), (7.267766953, 2.732233047))
            ThreePointArc((7.267766953, 2.732233047), (7.8096988313, 3.5432914191), (8, 4.5))
            ThreePointArc((8, 4.5), (7.267766953, 6.267766953), (5.5, 7))
            Line((5.5, 7), (5.5, 4.5))
        make_face()
        with BuildLine():
            Line((3.732233047, 6.267766953), (5.5, 4.5))
            Line((5.5, 4.5), (5.5, 7))
            ThreePointArc((5.5, 7), (4.5432914191, 6.8096988313), (3.732233047, 6.267766953))
        make_face()
        with BuildLine():
            Line((5.5, 13), (5.5, 15.5))
            Line((5.5, 15.5), (3.732233047, 13.732233047))
            ThreePointArc((3.732233047, 13.732233047), (4.5432914191, 13.1903011687), (5.5, 13))
        make_face()
        with BuildLine():
            ThreePointArc((8, 15.5), (7.8096988313, 16.4567085809), (7.267766953, 17.267766953))
            Line((7.267766953, 17.267766953), (5.5, 15.5))
            Line((5.5, 15.5), (5.5, 13))
            ThreePointArc((5.5, 13), (7.267766953, 13.732233047), (8, 15.5))
        make_face()
        with BuildLine():
            Line((3.732233047, 13.732233047), (5.5, 15.5))
            Line((5.5, 15.5), (3, 15.5))
            ThreePointArc((3, 15.5), (3.1903011687, 14.5432914191), (3.732233047, 13.732233047))
        make_face()
        with BuildLine():
            Line((5.5, 15.5), (7.267766953, 17.267766953))
            ThreePointArc((7.267766953, 17.267766953), (4.5432914191, 17.8096988313), (3, 15.5))
            Line((3, 15.5), (5.5, 15.5))
        make_face()
        with BuildLine():
            ThreePointArc((-3.732233047, 13.732233047), (-3.1903011687, 14.5432914191), (-3, 15.5))
            Line((-3, 15.5), (-5.5, 15.5))
            Line((-5.5, 15.5), (-3.732233047, 13.732233047))
        make_face()
        with BuildLine():
            Line((-3.732233047, 13.732233047), (-5.5, 15.5))
            Line((-5.5, 15.5), (-5.5, 13))
            ThreePointArc((-5.5, 13), (-4.5432914191, 13.1903011687), (-3.732233047, 13.732233047))
        make_face()
        with BuildLine():
            Line((-5.5, 15.5), (-7.267766953, 17.267766953))
            ThreePointArc((-7.267766953, 17.267766953), (-7.8096988313, 14.5432914191), (-5.5, 13))
            Line((-5.5, 13), (-5.5, 15.5))
        make_face()
        with BuildLine():
            ThreePointArc((-3, 15.5), (-4.5432914191, 17.8096988313), (-7.267766953, 17.267766953))
            Line((-7.267766953, 17.267766953), (-5.5, 15.5))
            Line((-5.5, 15.5), (-3, 15.5))
        make_face()
    extrude(amount=-F13_DEPTH, mode=Mode.SUBTRACT)

    # F4 (on face) → F14 (cut)
    with BuildSketch(Plane(origin=(0, 0, 0), x_dir=(1, 0, 0), z_dir=(0, 0, -1))):
        with BuildLine():
            Line((5.5, -5.5), (3.732233047, -3.732233047))
            ThreePointArc((3.732233047, -3.732233047), (3.732233047, -7.267766953), (7.267766953, -7.267766953))
            Line((7.267766953, -7.267766953), (5.5, -5.5))
        make_face()
        with BuildLine():
            ThreePointArc((8, -5.5), (7.267766953, -3.732233047), (5.5, -3))
            Line((5.5, -3), (5.5, -5.5))
            Line((5.5, -5.5), (7.267766953, -7.267766953))
            ThreePointArc((7.267766953, -7.267766953), (7.8096988313, -6.4567085809), (8, -5.5))
        make_face()
        with BuildLine():
            ThreePointArc((5.5, -3), (4.5432914191, -3.1903011687), (3.732233047, -3.732233047))
            Line((3.732233047, -3.732233047), (5.5, -5.5))
            Line((5.5, -5.5), (5.5, -3))
        make_face()
        with BuildLine():
            ThreePointArc((8, 0), (7.267766953, 1.767766953), (5.5, 2.5))
            Line((5.5, 2.5), (5.5, -2.5))
            ThreePointArc((5.5, -2.5), (7.267766953, -1.767766953), (8, 0))
        make_face()
        with BuildLine():
            Line((5.5, -2.5), (5.5, 2.5))
            ThreePointArc((5.5, 2.5), (3, 0), (5.5, -2.5))
        make_face()
        with BuildLine():
            ThreePointArc((8, 5.5), (7.8096988313, 6.4567085809), (7.267766953, 7.267766953))
            Line((7.267766953, 7.267766953), (5.5, 5.5))
            Line((5.5, 5.5), (5.5, 3))
            ThreePointArc((5.5, 3), (7.267766953, 3.732233047), (8, 5.5))
        make_face()
        with BuildLine():
            Line((5.5, 5.5), (3.732233047, 3.732233047))
            ThreePointArc((3.732233047, 3.732233047), (4.5432914191, 3.1903011687), (5.5, 3))
            Line((5.5, 3), (5.5, 5.5))
        make_face()
        with BuildLine():
            ThreePointArc((7.267766953, 7.267766953), (3.732233047, 7.267766953), (3.732233047, 3.732233047))
            Line((3.732233047, 3.732233047), (5.5, 5.5))
            Line((5.5, 5.5), (7.267766953, 7.267766953))
        make_face()
        with BuildLine():
            ThreePointArc((-3, -5.5), (-3.1903011687, -4.5432914191), (-3.732233047, -3.732233047))
            Line((-3.732233047, -3.732233047), (-5.5, -5.5))
            Line((-5.5, -5.5), (-7.267766953, -7.267766953))
            ThreePointArc((-7.267766953, -7.267766953), (-4.5432914191, -7.8096988313), (-3, -5.5))
        make_face()
        with BuildLine():
            ThreePointArc((-5.5, -3), (-7.8096988313, -4.5432914191), (-7.267766953, -7.267766953))
            Line((-7.267766953, -7.267766953), (-5.5, -5.5))
            Line((-5.5, -5.5), (-5.5, -3))
        make_face()
        with BuildLine():
            Line((-5.5, -5.5), (-3.732233047, -3.732233047))
            ThreePointArc((-3.732233047, -3.732233047), (-4.5432914191, -3.1903011687), (-5.5, -3))
            Line((-5.5, -3), (-5.5, -5.5))
        make_face()
        with BuildLine():
            ThreePointArc((-3, 0), (-3.732233047, 1.767766953), (-5.5, 2.5))
            Line((-5.5, 2.5), (-5.5, -2.5))
            ThreePointArc((-5.5, -2.5), (-3.732233047, -1.767766953), (-3, 0))
        make_face()
        with BuildLine():
            Line((-5.5, -2.5), (-5.5, 2.5))
            ThreePointArc((-5.5, 2.5), (-8, 0), (-5.5, -2.5))
        make_face()
        with BuildLine():
            ThreePointArc((-5.5, 3), (-4.5432914191, 3.1903011687), (-3.732233047, 3.732233047))
            Line((-3.732233047, 3.732233047), (-5.5, 5.5))
            Line((-5.5, 5.5), (-5.5, 3))
        make_face()
        with BuildLine():
            Line((-5.5, 5.5), (-7.267766953, 7.267766953))
            ThreePointArc((-7.267766953, 7.267766953), (-7.8096988313, 4.5432914191), (-5.5, 3))
            Line((-5.5, 3), (-5.5, 5.5))
        make_face()
        with BuildLine():
            ThreePointArc((-3.732233047, 3.732233047), (-3.1903011687, 4.5432914191), (-3, 5.5))
            ThreePointArc((-3, 5.5), (-4.5432914191, 7.8096988313), (-7.267766953, 7.267766953))
            Line((-7.267766953, 7.267766953), (-5.5, 5.5))
            Line((-5.5, 5.5), (-3.732233047, 3.732233047))
        make_face()
    extrude(amount=-F14_DEPTH, mode=Mode.SUBTRACT)

    # F15
    f15_edges = [f2.edges().sort_by_distance(p)[0] for p in [
        (0, 10, 0),
        (-10, 10, 10),
        (-10, 0, 0),
        (0, 10, 20),
        (-10, 0, 20),
        (10, 10, 10),
        (10, 0, 20),
        (10, -10, 10),
        (10, 0, 0),
        (0, -10, 0),
        (0, -10, 20),
        (-10, -10, 10),
    ]]
    fillet(f15_edges, radius=F15_R)


solid = f2.part
